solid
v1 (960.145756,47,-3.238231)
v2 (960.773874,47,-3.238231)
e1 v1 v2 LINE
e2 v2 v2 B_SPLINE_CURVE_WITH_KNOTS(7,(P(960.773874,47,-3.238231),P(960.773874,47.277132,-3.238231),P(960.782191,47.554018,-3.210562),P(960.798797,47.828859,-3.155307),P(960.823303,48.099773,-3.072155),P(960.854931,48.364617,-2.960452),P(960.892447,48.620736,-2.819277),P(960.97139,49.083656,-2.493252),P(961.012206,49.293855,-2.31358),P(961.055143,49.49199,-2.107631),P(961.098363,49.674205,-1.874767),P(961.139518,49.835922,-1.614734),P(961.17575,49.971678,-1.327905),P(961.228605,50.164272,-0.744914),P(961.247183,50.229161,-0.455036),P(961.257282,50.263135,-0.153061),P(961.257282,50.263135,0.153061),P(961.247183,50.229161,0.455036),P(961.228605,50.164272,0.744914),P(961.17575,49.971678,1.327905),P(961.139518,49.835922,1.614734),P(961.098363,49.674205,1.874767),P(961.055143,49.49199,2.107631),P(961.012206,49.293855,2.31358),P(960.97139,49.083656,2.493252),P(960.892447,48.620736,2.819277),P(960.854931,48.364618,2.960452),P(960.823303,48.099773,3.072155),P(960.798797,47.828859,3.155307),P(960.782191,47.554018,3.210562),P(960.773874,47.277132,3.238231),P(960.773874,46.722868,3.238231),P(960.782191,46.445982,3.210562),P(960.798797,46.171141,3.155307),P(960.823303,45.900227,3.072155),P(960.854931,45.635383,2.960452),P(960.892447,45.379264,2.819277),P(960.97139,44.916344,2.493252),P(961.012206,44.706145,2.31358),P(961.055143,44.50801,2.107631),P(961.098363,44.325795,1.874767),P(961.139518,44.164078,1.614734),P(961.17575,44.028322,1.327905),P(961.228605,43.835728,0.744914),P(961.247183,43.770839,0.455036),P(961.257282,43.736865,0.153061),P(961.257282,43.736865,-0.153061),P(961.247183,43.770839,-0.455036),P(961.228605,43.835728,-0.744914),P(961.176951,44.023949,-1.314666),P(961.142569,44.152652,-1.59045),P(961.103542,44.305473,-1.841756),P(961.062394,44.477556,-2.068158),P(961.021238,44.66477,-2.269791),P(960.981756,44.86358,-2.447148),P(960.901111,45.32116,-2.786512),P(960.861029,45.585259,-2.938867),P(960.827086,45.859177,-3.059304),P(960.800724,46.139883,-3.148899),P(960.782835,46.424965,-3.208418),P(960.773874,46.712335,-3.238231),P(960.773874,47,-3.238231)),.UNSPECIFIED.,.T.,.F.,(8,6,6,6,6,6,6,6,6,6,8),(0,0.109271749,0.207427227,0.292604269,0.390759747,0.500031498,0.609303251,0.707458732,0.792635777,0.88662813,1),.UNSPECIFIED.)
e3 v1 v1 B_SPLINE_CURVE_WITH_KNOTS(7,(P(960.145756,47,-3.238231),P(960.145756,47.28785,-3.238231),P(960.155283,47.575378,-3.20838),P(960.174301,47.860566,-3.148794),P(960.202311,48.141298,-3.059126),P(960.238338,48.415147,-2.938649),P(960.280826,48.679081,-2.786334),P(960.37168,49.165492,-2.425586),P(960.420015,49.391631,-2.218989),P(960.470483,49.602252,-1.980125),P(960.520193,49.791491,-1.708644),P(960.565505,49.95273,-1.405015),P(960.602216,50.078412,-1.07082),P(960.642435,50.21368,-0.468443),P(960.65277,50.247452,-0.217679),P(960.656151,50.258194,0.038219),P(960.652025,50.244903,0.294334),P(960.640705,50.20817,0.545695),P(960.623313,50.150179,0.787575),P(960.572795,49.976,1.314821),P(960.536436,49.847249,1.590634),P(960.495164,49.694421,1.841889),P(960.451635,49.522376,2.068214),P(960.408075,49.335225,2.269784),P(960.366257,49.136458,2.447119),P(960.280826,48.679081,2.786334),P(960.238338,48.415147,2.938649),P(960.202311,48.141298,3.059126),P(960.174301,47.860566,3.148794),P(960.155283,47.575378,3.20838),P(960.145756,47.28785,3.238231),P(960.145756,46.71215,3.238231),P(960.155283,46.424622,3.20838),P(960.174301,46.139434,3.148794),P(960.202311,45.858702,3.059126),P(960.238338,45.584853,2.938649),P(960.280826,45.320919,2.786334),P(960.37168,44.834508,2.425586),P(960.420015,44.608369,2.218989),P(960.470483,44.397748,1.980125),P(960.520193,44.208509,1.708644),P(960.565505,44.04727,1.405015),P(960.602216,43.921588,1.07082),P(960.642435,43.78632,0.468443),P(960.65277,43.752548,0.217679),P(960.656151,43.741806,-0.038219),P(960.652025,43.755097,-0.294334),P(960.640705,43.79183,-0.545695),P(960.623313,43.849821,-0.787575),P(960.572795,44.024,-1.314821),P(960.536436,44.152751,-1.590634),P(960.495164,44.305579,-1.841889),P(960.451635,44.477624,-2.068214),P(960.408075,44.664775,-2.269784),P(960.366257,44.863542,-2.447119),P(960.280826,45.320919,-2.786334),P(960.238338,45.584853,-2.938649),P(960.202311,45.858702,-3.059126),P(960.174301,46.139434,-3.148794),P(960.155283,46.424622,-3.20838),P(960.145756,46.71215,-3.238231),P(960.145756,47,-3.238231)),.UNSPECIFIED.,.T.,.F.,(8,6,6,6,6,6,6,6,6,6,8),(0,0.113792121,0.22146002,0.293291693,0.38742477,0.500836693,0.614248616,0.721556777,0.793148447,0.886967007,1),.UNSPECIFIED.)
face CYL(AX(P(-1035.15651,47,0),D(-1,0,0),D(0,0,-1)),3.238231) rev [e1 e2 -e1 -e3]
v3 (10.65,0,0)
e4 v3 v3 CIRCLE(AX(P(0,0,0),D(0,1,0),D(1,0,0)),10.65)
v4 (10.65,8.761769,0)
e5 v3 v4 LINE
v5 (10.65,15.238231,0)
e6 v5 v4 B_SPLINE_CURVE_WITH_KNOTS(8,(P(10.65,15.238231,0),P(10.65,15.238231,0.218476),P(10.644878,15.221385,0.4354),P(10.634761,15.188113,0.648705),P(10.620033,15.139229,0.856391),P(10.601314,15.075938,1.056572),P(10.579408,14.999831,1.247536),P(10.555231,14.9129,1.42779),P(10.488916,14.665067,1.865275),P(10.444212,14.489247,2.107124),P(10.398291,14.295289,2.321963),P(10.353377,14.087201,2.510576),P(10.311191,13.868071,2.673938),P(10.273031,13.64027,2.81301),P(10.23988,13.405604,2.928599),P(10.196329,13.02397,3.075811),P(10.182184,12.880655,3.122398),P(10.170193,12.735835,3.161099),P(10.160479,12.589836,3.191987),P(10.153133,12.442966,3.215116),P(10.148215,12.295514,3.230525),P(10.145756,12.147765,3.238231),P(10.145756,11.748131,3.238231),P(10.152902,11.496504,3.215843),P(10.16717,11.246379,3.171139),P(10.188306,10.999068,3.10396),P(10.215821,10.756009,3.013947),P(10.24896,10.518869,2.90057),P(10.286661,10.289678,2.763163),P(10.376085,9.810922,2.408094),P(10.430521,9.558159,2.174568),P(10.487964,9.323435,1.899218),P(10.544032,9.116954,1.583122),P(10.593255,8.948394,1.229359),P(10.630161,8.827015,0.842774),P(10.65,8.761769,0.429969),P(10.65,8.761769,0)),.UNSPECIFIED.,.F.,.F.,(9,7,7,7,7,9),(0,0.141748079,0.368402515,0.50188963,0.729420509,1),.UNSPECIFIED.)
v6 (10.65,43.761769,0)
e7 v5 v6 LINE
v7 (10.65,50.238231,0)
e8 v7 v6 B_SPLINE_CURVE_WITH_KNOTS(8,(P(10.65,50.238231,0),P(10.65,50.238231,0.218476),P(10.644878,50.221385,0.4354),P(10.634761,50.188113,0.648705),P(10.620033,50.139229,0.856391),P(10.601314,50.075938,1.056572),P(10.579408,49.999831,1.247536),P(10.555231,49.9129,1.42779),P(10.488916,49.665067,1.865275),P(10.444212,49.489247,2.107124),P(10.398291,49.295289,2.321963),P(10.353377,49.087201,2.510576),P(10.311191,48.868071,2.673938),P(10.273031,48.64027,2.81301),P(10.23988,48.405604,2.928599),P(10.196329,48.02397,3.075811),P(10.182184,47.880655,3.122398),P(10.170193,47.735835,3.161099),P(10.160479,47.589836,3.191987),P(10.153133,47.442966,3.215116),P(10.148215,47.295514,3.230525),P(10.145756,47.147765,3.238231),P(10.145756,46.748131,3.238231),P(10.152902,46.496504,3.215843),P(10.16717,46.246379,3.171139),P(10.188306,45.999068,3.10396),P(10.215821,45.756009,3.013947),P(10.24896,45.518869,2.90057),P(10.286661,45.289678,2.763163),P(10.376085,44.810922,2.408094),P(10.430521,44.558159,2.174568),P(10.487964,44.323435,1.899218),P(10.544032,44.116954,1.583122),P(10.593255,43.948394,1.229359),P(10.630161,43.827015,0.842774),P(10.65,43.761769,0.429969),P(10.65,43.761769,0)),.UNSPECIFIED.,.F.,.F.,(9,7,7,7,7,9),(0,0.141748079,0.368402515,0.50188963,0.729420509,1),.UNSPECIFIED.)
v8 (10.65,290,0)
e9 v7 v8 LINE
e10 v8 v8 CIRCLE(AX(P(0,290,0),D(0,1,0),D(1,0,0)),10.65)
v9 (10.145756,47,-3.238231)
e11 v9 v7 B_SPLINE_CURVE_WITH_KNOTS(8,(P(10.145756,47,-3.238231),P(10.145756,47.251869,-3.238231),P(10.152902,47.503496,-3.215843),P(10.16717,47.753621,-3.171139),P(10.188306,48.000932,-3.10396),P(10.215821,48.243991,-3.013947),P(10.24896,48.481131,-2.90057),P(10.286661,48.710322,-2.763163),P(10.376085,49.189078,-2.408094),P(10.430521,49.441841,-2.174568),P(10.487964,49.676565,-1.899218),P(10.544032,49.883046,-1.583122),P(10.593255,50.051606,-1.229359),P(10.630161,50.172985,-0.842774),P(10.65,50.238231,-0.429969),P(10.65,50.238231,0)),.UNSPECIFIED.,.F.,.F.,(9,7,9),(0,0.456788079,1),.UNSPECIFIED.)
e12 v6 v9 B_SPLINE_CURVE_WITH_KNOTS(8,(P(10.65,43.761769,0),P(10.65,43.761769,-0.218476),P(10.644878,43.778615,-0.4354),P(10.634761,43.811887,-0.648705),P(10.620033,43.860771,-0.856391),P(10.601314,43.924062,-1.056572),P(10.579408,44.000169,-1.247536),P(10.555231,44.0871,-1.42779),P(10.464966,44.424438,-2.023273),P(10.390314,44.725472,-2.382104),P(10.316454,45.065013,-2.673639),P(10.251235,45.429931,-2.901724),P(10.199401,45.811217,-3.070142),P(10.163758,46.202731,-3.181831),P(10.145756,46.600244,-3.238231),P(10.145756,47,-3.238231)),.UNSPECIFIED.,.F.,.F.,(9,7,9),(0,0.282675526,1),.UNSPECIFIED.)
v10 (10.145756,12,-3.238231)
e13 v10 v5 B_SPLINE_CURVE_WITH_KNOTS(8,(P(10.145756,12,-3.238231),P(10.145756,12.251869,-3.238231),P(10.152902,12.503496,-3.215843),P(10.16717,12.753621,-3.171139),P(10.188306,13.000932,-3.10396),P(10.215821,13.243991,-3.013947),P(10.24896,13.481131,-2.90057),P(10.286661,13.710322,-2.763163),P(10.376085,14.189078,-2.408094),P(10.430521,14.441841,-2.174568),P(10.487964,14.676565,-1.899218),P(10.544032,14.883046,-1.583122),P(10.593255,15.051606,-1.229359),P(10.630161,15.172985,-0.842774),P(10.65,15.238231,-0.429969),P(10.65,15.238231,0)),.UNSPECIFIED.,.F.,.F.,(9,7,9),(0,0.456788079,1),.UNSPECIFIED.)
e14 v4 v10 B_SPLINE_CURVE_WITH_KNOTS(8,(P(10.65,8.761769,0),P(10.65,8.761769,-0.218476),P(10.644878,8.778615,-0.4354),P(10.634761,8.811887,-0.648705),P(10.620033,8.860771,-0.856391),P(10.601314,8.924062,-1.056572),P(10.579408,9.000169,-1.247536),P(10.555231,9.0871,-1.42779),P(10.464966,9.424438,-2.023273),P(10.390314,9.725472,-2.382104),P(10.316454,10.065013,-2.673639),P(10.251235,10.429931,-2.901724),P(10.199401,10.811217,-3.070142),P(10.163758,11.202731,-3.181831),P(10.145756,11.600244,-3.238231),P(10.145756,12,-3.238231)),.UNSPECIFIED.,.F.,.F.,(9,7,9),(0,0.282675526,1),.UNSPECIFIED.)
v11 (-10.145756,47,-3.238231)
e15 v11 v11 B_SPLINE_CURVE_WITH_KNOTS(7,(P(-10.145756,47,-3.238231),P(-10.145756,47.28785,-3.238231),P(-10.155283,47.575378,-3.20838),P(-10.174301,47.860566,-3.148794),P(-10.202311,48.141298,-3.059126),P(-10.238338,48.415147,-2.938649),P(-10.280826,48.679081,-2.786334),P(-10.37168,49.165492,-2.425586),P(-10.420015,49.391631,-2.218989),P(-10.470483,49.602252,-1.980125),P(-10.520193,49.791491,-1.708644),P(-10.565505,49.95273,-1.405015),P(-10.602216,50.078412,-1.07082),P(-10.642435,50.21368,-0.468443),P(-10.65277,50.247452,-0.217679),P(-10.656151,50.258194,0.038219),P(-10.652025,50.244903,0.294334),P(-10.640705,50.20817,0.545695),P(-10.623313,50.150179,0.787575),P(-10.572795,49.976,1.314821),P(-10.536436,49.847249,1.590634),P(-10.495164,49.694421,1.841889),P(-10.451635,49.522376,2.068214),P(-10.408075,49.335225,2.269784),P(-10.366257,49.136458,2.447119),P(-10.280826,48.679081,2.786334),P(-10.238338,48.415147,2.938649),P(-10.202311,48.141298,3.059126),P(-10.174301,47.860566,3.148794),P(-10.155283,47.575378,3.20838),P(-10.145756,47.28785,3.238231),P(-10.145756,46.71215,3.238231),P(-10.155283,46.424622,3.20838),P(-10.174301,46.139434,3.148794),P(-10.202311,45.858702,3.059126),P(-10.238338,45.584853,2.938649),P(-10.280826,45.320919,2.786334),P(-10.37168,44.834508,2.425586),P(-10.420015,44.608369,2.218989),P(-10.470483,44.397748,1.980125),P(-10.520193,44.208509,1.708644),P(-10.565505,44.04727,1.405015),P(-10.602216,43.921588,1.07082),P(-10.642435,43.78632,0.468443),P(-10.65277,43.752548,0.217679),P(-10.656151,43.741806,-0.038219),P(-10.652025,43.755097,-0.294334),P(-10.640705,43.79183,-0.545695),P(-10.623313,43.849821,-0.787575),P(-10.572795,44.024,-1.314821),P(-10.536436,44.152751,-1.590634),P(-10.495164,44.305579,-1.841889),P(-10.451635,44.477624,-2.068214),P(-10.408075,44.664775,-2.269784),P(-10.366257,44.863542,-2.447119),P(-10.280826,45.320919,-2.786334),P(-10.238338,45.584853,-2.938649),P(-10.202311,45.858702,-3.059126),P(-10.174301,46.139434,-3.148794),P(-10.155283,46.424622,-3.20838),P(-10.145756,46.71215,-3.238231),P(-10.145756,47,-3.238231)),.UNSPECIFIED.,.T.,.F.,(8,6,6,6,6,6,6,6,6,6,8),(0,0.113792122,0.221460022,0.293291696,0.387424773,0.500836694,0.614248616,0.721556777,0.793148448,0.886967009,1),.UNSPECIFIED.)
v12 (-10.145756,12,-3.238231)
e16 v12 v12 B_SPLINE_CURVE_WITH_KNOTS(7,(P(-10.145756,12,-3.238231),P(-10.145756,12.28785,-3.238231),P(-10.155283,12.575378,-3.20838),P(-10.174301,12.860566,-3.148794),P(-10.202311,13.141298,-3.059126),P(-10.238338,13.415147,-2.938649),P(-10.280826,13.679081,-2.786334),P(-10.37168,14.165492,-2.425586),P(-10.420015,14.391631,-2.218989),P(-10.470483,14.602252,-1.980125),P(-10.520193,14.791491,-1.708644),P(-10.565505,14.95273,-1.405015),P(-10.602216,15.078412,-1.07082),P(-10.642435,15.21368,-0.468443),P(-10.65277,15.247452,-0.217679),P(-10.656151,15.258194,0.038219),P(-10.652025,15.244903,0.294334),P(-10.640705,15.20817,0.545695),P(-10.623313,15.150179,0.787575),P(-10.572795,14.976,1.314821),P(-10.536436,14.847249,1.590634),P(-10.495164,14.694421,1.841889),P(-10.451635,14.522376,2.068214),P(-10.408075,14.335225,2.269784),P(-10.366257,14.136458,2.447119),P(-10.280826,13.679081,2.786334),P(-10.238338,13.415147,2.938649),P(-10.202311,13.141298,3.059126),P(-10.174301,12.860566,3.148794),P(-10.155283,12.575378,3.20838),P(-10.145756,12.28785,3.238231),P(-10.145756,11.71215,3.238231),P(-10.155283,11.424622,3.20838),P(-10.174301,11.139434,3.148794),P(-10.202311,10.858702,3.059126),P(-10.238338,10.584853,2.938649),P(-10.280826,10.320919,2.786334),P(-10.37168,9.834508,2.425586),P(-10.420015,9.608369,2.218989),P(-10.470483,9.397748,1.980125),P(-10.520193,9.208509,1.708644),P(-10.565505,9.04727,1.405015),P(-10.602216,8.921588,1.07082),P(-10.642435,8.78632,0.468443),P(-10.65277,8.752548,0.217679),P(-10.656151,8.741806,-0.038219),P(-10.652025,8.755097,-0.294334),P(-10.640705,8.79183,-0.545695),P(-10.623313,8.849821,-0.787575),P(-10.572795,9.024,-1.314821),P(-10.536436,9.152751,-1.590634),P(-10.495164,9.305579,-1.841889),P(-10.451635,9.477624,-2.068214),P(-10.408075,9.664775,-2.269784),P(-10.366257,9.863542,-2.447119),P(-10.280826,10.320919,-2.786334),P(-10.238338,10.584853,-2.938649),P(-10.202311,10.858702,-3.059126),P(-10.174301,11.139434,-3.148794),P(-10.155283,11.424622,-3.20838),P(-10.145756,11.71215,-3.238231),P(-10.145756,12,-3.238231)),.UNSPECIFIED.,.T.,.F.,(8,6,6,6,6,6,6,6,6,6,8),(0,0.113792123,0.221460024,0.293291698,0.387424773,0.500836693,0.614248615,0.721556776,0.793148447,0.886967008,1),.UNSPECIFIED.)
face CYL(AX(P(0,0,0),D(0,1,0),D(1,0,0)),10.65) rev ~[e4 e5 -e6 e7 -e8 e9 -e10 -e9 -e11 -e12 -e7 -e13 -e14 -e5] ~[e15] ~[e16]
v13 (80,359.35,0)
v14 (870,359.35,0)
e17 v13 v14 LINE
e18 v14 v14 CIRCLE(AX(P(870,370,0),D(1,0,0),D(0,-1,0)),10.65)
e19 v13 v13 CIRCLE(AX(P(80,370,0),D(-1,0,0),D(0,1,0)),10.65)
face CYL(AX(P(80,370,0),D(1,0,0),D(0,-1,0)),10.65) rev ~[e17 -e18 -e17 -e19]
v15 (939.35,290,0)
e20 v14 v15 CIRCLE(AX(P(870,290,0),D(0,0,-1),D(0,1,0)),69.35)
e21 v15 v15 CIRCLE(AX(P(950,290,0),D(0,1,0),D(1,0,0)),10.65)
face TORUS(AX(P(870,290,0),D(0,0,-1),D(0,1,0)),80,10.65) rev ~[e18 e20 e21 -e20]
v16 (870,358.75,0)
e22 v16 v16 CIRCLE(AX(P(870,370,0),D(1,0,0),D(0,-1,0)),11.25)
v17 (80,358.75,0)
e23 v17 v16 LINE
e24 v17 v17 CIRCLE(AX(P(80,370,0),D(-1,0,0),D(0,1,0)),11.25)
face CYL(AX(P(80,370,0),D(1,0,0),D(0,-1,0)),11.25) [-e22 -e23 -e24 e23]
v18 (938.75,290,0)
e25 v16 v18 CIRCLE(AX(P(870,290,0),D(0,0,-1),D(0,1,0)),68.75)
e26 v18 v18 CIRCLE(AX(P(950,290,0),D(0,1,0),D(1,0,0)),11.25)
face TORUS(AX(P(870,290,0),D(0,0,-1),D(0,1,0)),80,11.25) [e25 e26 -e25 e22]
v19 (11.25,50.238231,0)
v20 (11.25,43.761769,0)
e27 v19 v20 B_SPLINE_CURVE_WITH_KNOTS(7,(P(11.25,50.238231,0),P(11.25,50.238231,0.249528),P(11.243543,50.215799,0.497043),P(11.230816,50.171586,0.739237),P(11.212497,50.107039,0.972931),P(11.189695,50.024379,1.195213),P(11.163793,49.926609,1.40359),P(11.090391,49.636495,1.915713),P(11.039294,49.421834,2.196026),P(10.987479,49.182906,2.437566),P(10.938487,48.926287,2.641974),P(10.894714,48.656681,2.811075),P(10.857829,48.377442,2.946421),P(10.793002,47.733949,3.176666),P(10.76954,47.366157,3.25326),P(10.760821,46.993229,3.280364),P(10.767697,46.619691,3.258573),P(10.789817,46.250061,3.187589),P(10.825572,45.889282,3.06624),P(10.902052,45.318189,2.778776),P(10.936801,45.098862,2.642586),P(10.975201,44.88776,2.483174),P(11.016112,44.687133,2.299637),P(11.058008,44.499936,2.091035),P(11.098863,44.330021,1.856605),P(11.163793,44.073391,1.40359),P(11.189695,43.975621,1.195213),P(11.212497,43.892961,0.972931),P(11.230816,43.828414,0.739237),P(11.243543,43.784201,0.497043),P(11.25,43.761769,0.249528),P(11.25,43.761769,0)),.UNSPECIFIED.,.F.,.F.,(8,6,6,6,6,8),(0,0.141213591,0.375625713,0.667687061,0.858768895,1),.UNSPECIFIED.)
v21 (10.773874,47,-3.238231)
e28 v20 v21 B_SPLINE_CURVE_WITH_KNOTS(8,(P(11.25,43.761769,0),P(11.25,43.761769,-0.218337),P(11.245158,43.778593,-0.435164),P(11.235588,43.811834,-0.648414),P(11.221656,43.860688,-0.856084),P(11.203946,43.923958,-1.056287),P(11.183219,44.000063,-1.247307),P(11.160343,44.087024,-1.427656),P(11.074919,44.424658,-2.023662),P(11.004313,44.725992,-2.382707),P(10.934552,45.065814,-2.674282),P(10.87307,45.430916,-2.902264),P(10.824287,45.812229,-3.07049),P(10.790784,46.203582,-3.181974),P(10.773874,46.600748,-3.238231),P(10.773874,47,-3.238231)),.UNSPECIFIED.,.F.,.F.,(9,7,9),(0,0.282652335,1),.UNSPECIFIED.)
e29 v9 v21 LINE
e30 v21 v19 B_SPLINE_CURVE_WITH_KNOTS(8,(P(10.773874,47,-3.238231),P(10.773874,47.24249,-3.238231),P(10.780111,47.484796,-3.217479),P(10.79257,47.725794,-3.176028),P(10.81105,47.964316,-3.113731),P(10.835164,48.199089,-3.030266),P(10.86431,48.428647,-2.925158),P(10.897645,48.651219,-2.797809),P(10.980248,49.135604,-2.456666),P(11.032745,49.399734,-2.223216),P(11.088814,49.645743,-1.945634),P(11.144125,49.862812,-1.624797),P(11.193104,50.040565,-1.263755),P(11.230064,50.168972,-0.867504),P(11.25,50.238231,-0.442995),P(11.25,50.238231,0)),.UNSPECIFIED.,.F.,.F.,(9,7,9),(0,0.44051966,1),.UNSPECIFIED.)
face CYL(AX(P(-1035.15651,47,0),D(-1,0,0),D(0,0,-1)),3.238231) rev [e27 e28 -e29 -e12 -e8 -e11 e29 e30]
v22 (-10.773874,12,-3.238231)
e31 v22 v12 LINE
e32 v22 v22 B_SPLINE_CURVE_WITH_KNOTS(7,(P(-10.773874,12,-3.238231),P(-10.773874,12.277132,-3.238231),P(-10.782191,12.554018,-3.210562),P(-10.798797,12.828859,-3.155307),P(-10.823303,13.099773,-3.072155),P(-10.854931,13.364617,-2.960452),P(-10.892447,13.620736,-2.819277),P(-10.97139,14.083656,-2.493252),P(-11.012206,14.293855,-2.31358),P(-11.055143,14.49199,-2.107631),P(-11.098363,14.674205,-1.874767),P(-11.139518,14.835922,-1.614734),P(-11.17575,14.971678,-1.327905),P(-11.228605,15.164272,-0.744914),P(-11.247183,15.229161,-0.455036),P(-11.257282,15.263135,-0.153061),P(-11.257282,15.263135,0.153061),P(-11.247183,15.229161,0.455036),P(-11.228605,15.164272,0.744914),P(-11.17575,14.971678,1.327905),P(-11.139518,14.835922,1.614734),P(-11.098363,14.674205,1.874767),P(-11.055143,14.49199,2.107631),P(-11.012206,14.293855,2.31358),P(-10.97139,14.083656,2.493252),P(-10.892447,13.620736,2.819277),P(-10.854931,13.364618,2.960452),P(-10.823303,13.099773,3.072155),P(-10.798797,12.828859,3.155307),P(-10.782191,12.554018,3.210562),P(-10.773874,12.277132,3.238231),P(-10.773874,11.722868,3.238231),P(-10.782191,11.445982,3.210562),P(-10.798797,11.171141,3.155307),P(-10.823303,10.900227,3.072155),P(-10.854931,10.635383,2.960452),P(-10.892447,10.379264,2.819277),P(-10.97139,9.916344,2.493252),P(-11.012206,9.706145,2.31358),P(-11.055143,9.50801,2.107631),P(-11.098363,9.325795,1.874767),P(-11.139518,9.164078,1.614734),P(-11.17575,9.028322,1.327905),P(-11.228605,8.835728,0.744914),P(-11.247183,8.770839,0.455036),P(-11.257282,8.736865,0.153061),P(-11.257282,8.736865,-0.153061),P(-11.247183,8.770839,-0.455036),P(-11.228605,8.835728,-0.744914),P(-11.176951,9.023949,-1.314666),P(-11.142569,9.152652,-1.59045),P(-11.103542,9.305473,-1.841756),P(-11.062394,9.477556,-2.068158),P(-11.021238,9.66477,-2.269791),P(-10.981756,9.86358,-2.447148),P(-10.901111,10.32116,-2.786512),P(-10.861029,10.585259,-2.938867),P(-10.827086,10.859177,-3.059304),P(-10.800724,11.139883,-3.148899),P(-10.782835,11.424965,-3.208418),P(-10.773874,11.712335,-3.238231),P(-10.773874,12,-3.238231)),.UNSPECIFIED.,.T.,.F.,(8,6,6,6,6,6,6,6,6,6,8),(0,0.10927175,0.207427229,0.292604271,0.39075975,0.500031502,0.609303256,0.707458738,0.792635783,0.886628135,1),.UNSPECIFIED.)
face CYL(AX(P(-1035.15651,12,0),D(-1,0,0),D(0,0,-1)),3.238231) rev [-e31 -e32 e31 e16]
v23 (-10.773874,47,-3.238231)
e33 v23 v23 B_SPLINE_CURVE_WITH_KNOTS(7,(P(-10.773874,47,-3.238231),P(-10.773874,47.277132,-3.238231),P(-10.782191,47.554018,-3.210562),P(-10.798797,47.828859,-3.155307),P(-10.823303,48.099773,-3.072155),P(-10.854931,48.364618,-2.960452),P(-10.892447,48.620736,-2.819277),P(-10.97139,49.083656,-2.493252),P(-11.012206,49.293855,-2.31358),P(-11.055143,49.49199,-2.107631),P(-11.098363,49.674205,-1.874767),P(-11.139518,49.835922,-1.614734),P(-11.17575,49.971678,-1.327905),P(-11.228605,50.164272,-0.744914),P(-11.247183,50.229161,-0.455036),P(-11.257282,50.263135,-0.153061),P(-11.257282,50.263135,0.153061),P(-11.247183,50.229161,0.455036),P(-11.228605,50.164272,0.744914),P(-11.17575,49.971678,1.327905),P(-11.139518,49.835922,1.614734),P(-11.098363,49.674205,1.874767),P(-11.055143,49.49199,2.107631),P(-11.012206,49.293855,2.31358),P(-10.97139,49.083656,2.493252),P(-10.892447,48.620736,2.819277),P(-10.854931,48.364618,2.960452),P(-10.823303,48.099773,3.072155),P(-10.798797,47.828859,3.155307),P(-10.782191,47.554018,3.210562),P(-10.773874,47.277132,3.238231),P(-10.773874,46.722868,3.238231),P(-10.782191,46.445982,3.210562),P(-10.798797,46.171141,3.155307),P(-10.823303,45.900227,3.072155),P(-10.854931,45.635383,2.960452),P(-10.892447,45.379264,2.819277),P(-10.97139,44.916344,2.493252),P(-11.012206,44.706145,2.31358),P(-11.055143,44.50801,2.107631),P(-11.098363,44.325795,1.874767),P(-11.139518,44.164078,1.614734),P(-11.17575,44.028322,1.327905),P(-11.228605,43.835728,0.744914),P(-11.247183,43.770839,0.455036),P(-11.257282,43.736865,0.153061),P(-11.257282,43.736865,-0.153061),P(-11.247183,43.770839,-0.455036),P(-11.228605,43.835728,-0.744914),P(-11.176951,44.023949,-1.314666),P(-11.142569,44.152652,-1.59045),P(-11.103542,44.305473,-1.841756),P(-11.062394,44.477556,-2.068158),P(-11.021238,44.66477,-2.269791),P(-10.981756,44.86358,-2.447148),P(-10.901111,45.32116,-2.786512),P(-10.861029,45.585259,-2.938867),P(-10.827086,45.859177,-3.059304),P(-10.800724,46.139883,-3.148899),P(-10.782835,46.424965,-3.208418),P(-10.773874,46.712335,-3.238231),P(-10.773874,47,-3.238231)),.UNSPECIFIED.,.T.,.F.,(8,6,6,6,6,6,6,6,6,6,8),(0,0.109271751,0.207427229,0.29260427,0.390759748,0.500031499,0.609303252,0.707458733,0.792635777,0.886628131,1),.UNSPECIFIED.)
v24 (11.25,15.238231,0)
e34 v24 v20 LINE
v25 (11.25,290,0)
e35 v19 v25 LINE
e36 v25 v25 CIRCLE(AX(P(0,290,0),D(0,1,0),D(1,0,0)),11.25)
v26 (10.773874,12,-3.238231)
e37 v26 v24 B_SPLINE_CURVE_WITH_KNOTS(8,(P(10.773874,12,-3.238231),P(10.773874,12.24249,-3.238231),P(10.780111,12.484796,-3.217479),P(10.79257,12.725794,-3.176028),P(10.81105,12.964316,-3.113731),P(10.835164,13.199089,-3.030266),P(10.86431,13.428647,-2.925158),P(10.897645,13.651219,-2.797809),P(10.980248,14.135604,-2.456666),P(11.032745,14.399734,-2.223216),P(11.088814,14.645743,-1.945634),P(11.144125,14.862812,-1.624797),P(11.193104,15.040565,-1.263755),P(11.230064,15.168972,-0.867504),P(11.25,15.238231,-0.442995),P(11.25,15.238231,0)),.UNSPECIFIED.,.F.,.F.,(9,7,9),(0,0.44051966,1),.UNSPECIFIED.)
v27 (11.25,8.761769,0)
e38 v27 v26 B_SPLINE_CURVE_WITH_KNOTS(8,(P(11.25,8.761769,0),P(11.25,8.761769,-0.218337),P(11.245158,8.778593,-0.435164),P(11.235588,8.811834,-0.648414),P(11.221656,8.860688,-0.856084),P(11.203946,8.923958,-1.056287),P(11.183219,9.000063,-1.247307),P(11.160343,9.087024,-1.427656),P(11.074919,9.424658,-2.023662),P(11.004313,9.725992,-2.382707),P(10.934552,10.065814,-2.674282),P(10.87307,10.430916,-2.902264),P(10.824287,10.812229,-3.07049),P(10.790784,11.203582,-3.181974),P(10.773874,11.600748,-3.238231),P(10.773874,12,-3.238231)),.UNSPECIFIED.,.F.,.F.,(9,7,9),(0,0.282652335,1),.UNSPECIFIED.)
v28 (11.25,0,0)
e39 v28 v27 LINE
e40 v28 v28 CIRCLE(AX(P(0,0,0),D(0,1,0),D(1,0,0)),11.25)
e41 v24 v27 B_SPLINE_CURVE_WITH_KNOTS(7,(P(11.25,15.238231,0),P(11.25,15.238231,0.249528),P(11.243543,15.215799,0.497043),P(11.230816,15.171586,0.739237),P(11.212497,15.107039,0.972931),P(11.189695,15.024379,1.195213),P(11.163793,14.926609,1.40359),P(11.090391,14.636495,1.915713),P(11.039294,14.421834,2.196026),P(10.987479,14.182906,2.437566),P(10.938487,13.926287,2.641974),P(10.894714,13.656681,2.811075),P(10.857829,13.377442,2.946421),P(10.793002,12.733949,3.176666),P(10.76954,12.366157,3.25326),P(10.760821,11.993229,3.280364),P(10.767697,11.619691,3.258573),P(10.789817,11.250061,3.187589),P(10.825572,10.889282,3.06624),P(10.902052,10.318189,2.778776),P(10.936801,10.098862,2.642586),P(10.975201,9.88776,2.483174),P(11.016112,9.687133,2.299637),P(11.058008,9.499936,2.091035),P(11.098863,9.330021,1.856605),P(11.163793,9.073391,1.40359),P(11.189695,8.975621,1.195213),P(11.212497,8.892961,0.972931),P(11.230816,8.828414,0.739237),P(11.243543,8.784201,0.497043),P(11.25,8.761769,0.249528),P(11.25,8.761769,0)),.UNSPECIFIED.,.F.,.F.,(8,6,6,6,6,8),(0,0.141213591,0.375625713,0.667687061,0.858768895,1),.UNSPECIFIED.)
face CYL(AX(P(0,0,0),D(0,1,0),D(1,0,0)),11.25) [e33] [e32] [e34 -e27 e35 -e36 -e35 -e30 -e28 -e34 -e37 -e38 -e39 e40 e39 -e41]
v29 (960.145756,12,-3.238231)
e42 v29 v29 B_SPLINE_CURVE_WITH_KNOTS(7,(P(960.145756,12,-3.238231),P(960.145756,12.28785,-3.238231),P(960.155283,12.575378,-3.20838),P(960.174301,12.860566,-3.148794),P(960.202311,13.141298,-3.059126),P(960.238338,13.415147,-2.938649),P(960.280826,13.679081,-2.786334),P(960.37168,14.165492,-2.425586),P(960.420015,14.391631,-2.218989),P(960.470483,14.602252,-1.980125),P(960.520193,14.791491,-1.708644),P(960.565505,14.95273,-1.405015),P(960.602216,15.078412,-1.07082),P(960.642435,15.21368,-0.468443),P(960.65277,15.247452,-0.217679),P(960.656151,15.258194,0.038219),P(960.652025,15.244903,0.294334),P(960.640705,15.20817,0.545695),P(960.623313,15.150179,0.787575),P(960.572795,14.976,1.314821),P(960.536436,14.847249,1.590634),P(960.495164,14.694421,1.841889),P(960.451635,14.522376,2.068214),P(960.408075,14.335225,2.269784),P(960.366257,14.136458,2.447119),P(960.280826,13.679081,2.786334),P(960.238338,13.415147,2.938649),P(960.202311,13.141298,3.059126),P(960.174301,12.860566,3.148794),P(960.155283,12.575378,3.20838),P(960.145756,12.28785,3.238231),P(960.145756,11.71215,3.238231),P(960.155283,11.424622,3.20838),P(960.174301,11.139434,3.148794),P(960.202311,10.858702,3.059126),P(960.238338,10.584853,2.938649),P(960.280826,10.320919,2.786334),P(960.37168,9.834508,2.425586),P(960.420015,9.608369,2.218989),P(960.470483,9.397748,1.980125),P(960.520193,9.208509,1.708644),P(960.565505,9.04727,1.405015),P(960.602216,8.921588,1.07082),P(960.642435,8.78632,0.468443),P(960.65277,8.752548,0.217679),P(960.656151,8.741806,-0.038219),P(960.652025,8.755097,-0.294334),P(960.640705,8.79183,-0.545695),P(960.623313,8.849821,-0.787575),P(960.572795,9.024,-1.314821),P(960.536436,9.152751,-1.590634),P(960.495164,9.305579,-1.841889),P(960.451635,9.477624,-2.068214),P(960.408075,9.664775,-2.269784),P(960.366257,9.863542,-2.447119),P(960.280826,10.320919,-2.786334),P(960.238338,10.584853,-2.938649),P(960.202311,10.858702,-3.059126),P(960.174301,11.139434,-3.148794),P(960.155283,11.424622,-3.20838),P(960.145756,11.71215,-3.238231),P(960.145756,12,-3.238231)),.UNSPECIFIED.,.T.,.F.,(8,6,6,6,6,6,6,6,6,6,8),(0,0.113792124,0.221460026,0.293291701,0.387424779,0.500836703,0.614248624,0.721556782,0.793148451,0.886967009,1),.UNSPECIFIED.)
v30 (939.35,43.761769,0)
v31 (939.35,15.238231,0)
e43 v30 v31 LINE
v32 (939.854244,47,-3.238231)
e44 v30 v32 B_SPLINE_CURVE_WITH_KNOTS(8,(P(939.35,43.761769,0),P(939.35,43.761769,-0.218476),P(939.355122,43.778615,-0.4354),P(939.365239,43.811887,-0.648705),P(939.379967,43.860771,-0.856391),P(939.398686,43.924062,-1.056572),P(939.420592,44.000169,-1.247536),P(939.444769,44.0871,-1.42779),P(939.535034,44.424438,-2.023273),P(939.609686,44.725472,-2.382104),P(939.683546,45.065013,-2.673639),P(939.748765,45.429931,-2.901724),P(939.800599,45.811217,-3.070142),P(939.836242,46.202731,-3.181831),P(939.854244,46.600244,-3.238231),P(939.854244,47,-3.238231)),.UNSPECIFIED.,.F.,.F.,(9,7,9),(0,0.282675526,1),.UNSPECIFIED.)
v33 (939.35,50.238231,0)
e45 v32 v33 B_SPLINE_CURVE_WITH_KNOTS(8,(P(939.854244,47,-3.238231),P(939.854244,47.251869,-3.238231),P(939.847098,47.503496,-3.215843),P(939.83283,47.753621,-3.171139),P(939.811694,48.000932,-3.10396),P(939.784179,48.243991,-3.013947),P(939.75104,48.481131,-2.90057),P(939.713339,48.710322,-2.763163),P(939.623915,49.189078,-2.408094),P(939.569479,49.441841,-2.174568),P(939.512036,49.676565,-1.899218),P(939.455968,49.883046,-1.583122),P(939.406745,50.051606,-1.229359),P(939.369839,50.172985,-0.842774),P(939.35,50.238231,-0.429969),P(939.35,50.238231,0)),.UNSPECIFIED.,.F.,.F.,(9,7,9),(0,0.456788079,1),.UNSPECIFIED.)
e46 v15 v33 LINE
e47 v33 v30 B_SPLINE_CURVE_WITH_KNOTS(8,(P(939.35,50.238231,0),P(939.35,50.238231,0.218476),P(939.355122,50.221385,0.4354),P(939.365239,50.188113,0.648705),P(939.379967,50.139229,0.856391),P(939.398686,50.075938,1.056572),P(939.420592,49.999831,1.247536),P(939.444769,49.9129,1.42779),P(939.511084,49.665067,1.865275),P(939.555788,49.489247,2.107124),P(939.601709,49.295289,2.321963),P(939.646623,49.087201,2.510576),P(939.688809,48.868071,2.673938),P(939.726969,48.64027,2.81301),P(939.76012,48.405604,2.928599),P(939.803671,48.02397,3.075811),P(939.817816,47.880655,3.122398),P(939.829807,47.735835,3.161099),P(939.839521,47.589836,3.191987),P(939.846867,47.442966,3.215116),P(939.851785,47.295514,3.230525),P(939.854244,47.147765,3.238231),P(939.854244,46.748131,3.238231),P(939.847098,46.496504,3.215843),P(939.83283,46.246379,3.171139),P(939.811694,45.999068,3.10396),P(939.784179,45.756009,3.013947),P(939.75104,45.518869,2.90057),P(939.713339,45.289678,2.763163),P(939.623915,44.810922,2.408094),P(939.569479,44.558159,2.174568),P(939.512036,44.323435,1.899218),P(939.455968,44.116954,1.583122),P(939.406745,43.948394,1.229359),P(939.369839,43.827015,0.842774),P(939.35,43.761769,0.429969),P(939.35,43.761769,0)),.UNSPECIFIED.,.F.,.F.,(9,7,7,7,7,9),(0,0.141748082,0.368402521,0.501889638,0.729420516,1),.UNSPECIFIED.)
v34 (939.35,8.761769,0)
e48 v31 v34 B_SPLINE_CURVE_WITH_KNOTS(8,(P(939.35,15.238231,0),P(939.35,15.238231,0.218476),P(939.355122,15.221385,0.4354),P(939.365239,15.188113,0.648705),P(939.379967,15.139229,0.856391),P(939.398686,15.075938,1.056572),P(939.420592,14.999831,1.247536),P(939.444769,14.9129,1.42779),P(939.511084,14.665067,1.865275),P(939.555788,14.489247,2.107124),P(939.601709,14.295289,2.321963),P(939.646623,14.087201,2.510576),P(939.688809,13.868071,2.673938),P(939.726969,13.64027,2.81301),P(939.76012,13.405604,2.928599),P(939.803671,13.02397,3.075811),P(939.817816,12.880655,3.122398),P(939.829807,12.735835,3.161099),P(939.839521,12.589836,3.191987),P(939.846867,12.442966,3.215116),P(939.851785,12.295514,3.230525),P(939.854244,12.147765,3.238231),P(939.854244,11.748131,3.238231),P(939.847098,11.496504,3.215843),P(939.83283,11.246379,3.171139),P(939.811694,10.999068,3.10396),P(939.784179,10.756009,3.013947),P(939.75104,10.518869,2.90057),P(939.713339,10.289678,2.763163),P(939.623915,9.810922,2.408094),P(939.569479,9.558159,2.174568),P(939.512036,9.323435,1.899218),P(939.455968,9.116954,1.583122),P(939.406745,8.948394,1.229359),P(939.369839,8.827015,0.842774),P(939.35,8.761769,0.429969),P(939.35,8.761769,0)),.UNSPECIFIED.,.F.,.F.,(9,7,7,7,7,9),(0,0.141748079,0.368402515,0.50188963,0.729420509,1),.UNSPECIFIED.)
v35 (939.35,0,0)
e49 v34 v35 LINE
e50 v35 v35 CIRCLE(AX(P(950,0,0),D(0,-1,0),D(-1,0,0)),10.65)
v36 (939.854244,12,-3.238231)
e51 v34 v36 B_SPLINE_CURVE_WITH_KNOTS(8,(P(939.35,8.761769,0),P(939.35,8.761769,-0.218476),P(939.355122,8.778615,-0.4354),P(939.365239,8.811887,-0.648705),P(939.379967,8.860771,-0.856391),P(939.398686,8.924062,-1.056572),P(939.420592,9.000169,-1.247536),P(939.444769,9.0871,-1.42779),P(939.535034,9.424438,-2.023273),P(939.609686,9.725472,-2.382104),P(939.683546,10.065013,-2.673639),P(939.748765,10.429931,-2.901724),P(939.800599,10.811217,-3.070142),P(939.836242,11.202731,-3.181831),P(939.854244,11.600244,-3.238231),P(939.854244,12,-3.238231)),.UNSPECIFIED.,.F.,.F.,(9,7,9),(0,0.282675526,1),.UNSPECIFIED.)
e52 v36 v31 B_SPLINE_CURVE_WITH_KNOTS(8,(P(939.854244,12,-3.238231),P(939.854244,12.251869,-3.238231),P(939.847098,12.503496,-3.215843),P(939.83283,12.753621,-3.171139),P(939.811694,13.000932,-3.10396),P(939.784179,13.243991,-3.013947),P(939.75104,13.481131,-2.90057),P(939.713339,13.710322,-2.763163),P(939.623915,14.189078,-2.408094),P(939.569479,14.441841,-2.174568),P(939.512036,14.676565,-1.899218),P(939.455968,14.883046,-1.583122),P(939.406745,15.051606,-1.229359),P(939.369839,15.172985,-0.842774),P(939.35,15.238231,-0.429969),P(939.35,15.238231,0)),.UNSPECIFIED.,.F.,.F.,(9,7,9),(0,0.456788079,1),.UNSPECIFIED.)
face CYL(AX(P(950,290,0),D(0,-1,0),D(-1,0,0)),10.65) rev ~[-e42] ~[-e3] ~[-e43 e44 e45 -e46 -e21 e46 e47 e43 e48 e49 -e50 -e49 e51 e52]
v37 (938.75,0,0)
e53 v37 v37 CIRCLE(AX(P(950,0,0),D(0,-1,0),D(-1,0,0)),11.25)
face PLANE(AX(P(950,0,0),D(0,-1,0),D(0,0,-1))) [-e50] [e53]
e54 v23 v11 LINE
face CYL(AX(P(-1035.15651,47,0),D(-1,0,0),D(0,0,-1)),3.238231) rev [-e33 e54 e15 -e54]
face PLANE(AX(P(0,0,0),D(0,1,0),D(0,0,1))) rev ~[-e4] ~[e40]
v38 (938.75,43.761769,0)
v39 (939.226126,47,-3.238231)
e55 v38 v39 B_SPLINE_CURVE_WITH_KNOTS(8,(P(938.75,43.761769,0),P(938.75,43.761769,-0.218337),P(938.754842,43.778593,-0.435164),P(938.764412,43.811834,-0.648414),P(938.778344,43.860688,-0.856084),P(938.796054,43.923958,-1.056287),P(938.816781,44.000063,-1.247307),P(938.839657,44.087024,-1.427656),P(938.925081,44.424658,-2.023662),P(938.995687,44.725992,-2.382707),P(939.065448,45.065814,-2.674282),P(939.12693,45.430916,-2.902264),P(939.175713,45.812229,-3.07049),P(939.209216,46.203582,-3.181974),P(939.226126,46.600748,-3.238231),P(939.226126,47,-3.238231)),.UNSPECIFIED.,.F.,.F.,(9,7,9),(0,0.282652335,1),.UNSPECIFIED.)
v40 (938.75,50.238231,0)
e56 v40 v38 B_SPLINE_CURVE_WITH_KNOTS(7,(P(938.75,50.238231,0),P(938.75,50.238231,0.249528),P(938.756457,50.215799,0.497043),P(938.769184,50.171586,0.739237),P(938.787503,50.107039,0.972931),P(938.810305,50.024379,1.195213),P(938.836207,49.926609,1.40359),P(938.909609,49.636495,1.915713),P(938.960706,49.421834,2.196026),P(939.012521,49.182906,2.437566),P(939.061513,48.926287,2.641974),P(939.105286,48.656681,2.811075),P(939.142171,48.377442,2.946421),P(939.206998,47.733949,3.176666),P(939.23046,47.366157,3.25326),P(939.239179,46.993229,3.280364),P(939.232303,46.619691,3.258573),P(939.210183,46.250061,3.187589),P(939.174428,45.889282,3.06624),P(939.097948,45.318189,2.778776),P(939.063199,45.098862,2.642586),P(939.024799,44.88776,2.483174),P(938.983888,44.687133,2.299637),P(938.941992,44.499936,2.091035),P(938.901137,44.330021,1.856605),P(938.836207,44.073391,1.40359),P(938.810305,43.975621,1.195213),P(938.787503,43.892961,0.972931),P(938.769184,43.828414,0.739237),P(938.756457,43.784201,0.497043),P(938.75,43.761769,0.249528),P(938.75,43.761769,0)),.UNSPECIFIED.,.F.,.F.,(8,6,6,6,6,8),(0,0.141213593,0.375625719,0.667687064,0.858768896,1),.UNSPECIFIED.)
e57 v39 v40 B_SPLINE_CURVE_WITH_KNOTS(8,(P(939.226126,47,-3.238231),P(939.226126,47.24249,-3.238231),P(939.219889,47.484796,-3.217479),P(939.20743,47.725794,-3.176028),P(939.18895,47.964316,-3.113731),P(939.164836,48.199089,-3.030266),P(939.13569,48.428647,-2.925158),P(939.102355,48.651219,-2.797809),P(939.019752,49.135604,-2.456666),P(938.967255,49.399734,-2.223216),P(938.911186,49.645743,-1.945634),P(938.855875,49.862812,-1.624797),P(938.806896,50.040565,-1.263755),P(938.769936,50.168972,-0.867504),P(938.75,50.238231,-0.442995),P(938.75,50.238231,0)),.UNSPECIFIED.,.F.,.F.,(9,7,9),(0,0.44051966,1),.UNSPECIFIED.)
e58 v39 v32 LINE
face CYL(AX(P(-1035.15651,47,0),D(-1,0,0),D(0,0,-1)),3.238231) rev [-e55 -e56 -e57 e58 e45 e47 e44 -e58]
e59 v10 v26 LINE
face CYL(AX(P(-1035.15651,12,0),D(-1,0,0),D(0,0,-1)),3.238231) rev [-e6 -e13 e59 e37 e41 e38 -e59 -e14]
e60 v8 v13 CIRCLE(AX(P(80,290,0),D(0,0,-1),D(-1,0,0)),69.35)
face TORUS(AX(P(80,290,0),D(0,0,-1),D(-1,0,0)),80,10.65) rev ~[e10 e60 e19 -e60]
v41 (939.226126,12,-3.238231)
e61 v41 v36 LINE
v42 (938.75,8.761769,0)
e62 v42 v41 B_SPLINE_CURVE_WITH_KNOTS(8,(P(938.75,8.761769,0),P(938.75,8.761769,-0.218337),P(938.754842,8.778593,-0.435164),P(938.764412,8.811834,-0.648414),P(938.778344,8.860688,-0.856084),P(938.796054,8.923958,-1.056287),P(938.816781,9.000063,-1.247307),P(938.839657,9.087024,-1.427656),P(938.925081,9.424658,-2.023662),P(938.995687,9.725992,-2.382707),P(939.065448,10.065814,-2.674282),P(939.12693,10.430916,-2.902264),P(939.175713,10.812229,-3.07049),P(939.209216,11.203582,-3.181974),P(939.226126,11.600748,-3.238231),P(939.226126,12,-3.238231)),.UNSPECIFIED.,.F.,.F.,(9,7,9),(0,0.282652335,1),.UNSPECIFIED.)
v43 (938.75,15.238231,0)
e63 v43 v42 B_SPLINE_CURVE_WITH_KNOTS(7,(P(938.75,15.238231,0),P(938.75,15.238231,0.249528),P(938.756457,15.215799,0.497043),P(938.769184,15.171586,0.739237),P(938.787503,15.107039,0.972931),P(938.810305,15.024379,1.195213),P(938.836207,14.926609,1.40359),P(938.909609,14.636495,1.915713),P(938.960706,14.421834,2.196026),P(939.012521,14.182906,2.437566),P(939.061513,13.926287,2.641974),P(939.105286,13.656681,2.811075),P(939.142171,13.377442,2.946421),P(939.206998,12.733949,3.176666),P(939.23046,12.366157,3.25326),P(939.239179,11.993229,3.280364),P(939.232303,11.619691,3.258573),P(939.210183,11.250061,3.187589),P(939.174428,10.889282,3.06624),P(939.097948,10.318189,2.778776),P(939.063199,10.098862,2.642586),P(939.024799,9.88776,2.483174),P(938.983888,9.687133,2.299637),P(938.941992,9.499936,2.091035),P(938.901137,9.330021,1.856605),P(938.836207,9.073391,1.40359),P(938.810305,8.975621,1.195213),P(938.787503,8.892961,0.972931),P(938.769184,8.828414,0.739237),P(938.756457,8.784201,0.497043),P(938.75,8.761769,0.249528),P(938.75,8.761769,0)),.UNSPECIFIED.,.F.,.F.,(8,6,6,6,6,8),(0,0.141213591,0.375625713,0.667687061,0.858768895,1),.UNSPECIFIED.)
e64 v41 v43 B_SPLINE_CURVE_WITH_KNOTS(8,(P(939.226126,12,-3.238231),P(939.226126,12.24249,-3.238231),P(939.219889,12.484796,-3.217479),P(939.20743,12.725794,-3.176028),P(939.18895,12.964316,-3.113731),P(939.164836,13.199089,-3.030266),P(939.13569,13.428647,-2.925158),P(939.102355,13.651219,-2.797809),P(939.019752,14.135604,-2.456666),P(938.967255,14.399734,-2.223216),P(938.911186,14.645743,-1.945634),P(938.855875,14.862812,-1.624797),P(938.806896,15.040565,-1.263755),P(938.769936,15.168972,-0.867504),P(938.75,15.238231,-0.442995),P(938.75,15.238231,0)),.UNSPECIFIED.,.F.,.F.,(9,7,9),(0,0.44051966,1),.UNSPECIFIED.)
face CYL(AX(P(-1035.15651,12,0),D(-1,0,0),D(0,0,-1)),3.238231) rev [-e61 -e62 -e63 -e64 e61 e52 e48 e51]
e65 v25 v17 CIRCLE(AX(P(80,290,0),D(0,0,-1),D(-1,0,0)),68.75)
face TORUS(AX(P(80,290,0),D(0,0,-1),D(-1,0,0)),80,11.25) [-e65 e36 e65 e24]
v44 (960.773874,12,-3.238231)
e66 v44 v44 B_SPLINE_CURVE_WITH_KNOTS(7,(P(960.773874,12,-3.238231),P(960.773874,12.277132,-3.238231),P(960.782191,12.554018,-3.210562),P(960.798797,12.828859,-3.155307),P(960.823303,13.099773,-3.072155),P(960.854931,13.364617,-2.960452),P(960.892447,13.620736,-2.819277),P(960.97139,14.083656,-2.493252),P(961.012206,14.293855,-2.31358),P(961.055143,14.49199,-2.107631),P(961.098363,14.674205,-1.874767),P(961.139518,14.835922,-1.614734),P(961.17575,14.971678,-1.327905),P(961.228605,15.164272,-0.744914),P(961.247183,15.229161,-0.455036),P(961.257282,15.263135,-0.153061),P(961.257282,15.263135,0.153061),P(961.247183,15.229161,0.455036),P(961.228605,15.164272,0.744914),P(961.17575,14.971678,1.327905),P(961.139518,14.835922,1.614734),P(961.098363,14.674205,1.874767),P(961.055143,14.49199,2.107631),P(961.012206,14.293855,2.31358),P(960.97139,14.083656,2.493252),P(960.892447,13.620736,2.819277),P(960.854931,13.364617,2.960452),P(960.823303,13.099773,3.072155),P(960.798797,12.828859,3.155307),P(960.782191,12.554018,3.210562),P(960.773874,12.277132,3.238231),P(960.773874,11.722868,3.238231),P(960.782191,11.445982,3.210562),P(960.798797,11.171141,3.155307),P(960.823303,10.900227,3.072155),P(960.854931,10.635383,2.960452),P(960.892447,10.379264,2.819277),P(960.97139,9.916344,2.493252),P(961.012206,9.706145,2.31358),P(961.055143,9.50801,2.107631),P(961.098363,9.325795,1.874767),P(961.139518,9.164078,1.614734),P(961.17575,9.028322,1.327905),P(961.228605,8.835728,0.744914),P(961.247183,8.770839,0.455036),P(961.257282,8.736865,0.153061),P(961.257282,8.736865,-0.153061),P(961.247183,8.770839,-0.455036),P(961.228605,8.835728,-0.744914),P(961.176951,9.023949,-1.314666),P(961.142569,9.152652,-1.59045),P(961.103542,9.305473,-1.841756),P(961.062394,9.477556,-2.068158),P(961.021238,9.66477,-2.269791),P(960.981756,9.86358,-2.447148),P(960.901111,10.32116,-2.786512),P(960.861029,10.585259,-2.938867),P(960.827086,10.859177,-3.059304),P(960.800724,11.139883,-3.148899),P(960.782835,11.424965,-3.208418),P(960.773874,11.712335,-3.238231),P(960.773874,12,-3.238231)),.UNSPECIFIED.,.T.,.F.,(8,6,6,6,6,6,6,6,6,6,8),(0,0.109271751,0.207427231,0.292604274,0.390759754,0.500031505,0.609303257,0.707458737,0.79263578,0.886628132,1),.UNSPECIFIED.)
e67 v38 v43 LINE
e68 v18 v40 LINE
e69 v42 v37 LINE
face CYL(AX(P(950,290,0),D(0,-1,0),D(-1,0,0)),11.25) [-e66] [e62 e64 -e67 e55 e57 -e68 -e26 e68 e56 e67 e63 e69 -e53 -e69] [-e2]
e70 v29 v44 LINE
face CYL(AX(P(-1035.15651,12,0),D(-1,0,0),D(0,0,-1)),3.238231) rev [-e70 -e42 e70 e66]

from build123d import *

# Parameters (mm, degrees)
SKETCH2_R               = 11.25
SKETCH2_R_2             = 10.65
CUT_EXTRUDE1_DEPTH      = 1035.156510288
CUT_EXTRUDE1_DEPTH_BACK = 1035.156510288
SKETCH3_R               = 3.238231215


with BuildPart() as part:
    # Sweep1: sweep along a path in Sketch1
    with BuildLine(Plane.XY) as sweep1_path:
        Line((0, 0), (0, 290))
        ThreePointArc((0, 290), (23.431457505, 346.568542495), (80, 370))
        Line((80, 370), (870, 370))
        ThreePointArc((870, 370), (926.568542495, 346.568542495), (950, 290))
        Line((950, 290), (950, 0))
    # Sketch2 → Sweep1 (sweep)
    with BuildSketch(Plane(origin=(0, 0, 0), x_dir=(1, 0, 0), z_dir=(0, 1, 0))):
        Circle(SKETCH2_R)
        Circle(SKETCH2_R_2, mode=Mode.SUBTRACT)
    sweep(path=sweep1_path.line)

    # Sketch3 → Cut-Extrude1 (cut, two sides: drawn at the far end of the back side and taken through both)
    with BuildSketch(Plane(origin=(0, 0, 0), x_dir=(0, 0, -1), z_dir=(1, 0, 0)).offset(-CUT_EXTRUDE1_DEPTH_BACK)):
        with Locations((0, 12)):
            Circle(SKETCH3_R)
        with Locations((0, 47)):
            Circle(SKETCH3_R)
    extrude(amount=CUT_EXTRUDE1_DEPTH + CUT_EXTRUDE1_DEPTH_BACK, mode=Mode.SUBTRACT)


solid = part.part
